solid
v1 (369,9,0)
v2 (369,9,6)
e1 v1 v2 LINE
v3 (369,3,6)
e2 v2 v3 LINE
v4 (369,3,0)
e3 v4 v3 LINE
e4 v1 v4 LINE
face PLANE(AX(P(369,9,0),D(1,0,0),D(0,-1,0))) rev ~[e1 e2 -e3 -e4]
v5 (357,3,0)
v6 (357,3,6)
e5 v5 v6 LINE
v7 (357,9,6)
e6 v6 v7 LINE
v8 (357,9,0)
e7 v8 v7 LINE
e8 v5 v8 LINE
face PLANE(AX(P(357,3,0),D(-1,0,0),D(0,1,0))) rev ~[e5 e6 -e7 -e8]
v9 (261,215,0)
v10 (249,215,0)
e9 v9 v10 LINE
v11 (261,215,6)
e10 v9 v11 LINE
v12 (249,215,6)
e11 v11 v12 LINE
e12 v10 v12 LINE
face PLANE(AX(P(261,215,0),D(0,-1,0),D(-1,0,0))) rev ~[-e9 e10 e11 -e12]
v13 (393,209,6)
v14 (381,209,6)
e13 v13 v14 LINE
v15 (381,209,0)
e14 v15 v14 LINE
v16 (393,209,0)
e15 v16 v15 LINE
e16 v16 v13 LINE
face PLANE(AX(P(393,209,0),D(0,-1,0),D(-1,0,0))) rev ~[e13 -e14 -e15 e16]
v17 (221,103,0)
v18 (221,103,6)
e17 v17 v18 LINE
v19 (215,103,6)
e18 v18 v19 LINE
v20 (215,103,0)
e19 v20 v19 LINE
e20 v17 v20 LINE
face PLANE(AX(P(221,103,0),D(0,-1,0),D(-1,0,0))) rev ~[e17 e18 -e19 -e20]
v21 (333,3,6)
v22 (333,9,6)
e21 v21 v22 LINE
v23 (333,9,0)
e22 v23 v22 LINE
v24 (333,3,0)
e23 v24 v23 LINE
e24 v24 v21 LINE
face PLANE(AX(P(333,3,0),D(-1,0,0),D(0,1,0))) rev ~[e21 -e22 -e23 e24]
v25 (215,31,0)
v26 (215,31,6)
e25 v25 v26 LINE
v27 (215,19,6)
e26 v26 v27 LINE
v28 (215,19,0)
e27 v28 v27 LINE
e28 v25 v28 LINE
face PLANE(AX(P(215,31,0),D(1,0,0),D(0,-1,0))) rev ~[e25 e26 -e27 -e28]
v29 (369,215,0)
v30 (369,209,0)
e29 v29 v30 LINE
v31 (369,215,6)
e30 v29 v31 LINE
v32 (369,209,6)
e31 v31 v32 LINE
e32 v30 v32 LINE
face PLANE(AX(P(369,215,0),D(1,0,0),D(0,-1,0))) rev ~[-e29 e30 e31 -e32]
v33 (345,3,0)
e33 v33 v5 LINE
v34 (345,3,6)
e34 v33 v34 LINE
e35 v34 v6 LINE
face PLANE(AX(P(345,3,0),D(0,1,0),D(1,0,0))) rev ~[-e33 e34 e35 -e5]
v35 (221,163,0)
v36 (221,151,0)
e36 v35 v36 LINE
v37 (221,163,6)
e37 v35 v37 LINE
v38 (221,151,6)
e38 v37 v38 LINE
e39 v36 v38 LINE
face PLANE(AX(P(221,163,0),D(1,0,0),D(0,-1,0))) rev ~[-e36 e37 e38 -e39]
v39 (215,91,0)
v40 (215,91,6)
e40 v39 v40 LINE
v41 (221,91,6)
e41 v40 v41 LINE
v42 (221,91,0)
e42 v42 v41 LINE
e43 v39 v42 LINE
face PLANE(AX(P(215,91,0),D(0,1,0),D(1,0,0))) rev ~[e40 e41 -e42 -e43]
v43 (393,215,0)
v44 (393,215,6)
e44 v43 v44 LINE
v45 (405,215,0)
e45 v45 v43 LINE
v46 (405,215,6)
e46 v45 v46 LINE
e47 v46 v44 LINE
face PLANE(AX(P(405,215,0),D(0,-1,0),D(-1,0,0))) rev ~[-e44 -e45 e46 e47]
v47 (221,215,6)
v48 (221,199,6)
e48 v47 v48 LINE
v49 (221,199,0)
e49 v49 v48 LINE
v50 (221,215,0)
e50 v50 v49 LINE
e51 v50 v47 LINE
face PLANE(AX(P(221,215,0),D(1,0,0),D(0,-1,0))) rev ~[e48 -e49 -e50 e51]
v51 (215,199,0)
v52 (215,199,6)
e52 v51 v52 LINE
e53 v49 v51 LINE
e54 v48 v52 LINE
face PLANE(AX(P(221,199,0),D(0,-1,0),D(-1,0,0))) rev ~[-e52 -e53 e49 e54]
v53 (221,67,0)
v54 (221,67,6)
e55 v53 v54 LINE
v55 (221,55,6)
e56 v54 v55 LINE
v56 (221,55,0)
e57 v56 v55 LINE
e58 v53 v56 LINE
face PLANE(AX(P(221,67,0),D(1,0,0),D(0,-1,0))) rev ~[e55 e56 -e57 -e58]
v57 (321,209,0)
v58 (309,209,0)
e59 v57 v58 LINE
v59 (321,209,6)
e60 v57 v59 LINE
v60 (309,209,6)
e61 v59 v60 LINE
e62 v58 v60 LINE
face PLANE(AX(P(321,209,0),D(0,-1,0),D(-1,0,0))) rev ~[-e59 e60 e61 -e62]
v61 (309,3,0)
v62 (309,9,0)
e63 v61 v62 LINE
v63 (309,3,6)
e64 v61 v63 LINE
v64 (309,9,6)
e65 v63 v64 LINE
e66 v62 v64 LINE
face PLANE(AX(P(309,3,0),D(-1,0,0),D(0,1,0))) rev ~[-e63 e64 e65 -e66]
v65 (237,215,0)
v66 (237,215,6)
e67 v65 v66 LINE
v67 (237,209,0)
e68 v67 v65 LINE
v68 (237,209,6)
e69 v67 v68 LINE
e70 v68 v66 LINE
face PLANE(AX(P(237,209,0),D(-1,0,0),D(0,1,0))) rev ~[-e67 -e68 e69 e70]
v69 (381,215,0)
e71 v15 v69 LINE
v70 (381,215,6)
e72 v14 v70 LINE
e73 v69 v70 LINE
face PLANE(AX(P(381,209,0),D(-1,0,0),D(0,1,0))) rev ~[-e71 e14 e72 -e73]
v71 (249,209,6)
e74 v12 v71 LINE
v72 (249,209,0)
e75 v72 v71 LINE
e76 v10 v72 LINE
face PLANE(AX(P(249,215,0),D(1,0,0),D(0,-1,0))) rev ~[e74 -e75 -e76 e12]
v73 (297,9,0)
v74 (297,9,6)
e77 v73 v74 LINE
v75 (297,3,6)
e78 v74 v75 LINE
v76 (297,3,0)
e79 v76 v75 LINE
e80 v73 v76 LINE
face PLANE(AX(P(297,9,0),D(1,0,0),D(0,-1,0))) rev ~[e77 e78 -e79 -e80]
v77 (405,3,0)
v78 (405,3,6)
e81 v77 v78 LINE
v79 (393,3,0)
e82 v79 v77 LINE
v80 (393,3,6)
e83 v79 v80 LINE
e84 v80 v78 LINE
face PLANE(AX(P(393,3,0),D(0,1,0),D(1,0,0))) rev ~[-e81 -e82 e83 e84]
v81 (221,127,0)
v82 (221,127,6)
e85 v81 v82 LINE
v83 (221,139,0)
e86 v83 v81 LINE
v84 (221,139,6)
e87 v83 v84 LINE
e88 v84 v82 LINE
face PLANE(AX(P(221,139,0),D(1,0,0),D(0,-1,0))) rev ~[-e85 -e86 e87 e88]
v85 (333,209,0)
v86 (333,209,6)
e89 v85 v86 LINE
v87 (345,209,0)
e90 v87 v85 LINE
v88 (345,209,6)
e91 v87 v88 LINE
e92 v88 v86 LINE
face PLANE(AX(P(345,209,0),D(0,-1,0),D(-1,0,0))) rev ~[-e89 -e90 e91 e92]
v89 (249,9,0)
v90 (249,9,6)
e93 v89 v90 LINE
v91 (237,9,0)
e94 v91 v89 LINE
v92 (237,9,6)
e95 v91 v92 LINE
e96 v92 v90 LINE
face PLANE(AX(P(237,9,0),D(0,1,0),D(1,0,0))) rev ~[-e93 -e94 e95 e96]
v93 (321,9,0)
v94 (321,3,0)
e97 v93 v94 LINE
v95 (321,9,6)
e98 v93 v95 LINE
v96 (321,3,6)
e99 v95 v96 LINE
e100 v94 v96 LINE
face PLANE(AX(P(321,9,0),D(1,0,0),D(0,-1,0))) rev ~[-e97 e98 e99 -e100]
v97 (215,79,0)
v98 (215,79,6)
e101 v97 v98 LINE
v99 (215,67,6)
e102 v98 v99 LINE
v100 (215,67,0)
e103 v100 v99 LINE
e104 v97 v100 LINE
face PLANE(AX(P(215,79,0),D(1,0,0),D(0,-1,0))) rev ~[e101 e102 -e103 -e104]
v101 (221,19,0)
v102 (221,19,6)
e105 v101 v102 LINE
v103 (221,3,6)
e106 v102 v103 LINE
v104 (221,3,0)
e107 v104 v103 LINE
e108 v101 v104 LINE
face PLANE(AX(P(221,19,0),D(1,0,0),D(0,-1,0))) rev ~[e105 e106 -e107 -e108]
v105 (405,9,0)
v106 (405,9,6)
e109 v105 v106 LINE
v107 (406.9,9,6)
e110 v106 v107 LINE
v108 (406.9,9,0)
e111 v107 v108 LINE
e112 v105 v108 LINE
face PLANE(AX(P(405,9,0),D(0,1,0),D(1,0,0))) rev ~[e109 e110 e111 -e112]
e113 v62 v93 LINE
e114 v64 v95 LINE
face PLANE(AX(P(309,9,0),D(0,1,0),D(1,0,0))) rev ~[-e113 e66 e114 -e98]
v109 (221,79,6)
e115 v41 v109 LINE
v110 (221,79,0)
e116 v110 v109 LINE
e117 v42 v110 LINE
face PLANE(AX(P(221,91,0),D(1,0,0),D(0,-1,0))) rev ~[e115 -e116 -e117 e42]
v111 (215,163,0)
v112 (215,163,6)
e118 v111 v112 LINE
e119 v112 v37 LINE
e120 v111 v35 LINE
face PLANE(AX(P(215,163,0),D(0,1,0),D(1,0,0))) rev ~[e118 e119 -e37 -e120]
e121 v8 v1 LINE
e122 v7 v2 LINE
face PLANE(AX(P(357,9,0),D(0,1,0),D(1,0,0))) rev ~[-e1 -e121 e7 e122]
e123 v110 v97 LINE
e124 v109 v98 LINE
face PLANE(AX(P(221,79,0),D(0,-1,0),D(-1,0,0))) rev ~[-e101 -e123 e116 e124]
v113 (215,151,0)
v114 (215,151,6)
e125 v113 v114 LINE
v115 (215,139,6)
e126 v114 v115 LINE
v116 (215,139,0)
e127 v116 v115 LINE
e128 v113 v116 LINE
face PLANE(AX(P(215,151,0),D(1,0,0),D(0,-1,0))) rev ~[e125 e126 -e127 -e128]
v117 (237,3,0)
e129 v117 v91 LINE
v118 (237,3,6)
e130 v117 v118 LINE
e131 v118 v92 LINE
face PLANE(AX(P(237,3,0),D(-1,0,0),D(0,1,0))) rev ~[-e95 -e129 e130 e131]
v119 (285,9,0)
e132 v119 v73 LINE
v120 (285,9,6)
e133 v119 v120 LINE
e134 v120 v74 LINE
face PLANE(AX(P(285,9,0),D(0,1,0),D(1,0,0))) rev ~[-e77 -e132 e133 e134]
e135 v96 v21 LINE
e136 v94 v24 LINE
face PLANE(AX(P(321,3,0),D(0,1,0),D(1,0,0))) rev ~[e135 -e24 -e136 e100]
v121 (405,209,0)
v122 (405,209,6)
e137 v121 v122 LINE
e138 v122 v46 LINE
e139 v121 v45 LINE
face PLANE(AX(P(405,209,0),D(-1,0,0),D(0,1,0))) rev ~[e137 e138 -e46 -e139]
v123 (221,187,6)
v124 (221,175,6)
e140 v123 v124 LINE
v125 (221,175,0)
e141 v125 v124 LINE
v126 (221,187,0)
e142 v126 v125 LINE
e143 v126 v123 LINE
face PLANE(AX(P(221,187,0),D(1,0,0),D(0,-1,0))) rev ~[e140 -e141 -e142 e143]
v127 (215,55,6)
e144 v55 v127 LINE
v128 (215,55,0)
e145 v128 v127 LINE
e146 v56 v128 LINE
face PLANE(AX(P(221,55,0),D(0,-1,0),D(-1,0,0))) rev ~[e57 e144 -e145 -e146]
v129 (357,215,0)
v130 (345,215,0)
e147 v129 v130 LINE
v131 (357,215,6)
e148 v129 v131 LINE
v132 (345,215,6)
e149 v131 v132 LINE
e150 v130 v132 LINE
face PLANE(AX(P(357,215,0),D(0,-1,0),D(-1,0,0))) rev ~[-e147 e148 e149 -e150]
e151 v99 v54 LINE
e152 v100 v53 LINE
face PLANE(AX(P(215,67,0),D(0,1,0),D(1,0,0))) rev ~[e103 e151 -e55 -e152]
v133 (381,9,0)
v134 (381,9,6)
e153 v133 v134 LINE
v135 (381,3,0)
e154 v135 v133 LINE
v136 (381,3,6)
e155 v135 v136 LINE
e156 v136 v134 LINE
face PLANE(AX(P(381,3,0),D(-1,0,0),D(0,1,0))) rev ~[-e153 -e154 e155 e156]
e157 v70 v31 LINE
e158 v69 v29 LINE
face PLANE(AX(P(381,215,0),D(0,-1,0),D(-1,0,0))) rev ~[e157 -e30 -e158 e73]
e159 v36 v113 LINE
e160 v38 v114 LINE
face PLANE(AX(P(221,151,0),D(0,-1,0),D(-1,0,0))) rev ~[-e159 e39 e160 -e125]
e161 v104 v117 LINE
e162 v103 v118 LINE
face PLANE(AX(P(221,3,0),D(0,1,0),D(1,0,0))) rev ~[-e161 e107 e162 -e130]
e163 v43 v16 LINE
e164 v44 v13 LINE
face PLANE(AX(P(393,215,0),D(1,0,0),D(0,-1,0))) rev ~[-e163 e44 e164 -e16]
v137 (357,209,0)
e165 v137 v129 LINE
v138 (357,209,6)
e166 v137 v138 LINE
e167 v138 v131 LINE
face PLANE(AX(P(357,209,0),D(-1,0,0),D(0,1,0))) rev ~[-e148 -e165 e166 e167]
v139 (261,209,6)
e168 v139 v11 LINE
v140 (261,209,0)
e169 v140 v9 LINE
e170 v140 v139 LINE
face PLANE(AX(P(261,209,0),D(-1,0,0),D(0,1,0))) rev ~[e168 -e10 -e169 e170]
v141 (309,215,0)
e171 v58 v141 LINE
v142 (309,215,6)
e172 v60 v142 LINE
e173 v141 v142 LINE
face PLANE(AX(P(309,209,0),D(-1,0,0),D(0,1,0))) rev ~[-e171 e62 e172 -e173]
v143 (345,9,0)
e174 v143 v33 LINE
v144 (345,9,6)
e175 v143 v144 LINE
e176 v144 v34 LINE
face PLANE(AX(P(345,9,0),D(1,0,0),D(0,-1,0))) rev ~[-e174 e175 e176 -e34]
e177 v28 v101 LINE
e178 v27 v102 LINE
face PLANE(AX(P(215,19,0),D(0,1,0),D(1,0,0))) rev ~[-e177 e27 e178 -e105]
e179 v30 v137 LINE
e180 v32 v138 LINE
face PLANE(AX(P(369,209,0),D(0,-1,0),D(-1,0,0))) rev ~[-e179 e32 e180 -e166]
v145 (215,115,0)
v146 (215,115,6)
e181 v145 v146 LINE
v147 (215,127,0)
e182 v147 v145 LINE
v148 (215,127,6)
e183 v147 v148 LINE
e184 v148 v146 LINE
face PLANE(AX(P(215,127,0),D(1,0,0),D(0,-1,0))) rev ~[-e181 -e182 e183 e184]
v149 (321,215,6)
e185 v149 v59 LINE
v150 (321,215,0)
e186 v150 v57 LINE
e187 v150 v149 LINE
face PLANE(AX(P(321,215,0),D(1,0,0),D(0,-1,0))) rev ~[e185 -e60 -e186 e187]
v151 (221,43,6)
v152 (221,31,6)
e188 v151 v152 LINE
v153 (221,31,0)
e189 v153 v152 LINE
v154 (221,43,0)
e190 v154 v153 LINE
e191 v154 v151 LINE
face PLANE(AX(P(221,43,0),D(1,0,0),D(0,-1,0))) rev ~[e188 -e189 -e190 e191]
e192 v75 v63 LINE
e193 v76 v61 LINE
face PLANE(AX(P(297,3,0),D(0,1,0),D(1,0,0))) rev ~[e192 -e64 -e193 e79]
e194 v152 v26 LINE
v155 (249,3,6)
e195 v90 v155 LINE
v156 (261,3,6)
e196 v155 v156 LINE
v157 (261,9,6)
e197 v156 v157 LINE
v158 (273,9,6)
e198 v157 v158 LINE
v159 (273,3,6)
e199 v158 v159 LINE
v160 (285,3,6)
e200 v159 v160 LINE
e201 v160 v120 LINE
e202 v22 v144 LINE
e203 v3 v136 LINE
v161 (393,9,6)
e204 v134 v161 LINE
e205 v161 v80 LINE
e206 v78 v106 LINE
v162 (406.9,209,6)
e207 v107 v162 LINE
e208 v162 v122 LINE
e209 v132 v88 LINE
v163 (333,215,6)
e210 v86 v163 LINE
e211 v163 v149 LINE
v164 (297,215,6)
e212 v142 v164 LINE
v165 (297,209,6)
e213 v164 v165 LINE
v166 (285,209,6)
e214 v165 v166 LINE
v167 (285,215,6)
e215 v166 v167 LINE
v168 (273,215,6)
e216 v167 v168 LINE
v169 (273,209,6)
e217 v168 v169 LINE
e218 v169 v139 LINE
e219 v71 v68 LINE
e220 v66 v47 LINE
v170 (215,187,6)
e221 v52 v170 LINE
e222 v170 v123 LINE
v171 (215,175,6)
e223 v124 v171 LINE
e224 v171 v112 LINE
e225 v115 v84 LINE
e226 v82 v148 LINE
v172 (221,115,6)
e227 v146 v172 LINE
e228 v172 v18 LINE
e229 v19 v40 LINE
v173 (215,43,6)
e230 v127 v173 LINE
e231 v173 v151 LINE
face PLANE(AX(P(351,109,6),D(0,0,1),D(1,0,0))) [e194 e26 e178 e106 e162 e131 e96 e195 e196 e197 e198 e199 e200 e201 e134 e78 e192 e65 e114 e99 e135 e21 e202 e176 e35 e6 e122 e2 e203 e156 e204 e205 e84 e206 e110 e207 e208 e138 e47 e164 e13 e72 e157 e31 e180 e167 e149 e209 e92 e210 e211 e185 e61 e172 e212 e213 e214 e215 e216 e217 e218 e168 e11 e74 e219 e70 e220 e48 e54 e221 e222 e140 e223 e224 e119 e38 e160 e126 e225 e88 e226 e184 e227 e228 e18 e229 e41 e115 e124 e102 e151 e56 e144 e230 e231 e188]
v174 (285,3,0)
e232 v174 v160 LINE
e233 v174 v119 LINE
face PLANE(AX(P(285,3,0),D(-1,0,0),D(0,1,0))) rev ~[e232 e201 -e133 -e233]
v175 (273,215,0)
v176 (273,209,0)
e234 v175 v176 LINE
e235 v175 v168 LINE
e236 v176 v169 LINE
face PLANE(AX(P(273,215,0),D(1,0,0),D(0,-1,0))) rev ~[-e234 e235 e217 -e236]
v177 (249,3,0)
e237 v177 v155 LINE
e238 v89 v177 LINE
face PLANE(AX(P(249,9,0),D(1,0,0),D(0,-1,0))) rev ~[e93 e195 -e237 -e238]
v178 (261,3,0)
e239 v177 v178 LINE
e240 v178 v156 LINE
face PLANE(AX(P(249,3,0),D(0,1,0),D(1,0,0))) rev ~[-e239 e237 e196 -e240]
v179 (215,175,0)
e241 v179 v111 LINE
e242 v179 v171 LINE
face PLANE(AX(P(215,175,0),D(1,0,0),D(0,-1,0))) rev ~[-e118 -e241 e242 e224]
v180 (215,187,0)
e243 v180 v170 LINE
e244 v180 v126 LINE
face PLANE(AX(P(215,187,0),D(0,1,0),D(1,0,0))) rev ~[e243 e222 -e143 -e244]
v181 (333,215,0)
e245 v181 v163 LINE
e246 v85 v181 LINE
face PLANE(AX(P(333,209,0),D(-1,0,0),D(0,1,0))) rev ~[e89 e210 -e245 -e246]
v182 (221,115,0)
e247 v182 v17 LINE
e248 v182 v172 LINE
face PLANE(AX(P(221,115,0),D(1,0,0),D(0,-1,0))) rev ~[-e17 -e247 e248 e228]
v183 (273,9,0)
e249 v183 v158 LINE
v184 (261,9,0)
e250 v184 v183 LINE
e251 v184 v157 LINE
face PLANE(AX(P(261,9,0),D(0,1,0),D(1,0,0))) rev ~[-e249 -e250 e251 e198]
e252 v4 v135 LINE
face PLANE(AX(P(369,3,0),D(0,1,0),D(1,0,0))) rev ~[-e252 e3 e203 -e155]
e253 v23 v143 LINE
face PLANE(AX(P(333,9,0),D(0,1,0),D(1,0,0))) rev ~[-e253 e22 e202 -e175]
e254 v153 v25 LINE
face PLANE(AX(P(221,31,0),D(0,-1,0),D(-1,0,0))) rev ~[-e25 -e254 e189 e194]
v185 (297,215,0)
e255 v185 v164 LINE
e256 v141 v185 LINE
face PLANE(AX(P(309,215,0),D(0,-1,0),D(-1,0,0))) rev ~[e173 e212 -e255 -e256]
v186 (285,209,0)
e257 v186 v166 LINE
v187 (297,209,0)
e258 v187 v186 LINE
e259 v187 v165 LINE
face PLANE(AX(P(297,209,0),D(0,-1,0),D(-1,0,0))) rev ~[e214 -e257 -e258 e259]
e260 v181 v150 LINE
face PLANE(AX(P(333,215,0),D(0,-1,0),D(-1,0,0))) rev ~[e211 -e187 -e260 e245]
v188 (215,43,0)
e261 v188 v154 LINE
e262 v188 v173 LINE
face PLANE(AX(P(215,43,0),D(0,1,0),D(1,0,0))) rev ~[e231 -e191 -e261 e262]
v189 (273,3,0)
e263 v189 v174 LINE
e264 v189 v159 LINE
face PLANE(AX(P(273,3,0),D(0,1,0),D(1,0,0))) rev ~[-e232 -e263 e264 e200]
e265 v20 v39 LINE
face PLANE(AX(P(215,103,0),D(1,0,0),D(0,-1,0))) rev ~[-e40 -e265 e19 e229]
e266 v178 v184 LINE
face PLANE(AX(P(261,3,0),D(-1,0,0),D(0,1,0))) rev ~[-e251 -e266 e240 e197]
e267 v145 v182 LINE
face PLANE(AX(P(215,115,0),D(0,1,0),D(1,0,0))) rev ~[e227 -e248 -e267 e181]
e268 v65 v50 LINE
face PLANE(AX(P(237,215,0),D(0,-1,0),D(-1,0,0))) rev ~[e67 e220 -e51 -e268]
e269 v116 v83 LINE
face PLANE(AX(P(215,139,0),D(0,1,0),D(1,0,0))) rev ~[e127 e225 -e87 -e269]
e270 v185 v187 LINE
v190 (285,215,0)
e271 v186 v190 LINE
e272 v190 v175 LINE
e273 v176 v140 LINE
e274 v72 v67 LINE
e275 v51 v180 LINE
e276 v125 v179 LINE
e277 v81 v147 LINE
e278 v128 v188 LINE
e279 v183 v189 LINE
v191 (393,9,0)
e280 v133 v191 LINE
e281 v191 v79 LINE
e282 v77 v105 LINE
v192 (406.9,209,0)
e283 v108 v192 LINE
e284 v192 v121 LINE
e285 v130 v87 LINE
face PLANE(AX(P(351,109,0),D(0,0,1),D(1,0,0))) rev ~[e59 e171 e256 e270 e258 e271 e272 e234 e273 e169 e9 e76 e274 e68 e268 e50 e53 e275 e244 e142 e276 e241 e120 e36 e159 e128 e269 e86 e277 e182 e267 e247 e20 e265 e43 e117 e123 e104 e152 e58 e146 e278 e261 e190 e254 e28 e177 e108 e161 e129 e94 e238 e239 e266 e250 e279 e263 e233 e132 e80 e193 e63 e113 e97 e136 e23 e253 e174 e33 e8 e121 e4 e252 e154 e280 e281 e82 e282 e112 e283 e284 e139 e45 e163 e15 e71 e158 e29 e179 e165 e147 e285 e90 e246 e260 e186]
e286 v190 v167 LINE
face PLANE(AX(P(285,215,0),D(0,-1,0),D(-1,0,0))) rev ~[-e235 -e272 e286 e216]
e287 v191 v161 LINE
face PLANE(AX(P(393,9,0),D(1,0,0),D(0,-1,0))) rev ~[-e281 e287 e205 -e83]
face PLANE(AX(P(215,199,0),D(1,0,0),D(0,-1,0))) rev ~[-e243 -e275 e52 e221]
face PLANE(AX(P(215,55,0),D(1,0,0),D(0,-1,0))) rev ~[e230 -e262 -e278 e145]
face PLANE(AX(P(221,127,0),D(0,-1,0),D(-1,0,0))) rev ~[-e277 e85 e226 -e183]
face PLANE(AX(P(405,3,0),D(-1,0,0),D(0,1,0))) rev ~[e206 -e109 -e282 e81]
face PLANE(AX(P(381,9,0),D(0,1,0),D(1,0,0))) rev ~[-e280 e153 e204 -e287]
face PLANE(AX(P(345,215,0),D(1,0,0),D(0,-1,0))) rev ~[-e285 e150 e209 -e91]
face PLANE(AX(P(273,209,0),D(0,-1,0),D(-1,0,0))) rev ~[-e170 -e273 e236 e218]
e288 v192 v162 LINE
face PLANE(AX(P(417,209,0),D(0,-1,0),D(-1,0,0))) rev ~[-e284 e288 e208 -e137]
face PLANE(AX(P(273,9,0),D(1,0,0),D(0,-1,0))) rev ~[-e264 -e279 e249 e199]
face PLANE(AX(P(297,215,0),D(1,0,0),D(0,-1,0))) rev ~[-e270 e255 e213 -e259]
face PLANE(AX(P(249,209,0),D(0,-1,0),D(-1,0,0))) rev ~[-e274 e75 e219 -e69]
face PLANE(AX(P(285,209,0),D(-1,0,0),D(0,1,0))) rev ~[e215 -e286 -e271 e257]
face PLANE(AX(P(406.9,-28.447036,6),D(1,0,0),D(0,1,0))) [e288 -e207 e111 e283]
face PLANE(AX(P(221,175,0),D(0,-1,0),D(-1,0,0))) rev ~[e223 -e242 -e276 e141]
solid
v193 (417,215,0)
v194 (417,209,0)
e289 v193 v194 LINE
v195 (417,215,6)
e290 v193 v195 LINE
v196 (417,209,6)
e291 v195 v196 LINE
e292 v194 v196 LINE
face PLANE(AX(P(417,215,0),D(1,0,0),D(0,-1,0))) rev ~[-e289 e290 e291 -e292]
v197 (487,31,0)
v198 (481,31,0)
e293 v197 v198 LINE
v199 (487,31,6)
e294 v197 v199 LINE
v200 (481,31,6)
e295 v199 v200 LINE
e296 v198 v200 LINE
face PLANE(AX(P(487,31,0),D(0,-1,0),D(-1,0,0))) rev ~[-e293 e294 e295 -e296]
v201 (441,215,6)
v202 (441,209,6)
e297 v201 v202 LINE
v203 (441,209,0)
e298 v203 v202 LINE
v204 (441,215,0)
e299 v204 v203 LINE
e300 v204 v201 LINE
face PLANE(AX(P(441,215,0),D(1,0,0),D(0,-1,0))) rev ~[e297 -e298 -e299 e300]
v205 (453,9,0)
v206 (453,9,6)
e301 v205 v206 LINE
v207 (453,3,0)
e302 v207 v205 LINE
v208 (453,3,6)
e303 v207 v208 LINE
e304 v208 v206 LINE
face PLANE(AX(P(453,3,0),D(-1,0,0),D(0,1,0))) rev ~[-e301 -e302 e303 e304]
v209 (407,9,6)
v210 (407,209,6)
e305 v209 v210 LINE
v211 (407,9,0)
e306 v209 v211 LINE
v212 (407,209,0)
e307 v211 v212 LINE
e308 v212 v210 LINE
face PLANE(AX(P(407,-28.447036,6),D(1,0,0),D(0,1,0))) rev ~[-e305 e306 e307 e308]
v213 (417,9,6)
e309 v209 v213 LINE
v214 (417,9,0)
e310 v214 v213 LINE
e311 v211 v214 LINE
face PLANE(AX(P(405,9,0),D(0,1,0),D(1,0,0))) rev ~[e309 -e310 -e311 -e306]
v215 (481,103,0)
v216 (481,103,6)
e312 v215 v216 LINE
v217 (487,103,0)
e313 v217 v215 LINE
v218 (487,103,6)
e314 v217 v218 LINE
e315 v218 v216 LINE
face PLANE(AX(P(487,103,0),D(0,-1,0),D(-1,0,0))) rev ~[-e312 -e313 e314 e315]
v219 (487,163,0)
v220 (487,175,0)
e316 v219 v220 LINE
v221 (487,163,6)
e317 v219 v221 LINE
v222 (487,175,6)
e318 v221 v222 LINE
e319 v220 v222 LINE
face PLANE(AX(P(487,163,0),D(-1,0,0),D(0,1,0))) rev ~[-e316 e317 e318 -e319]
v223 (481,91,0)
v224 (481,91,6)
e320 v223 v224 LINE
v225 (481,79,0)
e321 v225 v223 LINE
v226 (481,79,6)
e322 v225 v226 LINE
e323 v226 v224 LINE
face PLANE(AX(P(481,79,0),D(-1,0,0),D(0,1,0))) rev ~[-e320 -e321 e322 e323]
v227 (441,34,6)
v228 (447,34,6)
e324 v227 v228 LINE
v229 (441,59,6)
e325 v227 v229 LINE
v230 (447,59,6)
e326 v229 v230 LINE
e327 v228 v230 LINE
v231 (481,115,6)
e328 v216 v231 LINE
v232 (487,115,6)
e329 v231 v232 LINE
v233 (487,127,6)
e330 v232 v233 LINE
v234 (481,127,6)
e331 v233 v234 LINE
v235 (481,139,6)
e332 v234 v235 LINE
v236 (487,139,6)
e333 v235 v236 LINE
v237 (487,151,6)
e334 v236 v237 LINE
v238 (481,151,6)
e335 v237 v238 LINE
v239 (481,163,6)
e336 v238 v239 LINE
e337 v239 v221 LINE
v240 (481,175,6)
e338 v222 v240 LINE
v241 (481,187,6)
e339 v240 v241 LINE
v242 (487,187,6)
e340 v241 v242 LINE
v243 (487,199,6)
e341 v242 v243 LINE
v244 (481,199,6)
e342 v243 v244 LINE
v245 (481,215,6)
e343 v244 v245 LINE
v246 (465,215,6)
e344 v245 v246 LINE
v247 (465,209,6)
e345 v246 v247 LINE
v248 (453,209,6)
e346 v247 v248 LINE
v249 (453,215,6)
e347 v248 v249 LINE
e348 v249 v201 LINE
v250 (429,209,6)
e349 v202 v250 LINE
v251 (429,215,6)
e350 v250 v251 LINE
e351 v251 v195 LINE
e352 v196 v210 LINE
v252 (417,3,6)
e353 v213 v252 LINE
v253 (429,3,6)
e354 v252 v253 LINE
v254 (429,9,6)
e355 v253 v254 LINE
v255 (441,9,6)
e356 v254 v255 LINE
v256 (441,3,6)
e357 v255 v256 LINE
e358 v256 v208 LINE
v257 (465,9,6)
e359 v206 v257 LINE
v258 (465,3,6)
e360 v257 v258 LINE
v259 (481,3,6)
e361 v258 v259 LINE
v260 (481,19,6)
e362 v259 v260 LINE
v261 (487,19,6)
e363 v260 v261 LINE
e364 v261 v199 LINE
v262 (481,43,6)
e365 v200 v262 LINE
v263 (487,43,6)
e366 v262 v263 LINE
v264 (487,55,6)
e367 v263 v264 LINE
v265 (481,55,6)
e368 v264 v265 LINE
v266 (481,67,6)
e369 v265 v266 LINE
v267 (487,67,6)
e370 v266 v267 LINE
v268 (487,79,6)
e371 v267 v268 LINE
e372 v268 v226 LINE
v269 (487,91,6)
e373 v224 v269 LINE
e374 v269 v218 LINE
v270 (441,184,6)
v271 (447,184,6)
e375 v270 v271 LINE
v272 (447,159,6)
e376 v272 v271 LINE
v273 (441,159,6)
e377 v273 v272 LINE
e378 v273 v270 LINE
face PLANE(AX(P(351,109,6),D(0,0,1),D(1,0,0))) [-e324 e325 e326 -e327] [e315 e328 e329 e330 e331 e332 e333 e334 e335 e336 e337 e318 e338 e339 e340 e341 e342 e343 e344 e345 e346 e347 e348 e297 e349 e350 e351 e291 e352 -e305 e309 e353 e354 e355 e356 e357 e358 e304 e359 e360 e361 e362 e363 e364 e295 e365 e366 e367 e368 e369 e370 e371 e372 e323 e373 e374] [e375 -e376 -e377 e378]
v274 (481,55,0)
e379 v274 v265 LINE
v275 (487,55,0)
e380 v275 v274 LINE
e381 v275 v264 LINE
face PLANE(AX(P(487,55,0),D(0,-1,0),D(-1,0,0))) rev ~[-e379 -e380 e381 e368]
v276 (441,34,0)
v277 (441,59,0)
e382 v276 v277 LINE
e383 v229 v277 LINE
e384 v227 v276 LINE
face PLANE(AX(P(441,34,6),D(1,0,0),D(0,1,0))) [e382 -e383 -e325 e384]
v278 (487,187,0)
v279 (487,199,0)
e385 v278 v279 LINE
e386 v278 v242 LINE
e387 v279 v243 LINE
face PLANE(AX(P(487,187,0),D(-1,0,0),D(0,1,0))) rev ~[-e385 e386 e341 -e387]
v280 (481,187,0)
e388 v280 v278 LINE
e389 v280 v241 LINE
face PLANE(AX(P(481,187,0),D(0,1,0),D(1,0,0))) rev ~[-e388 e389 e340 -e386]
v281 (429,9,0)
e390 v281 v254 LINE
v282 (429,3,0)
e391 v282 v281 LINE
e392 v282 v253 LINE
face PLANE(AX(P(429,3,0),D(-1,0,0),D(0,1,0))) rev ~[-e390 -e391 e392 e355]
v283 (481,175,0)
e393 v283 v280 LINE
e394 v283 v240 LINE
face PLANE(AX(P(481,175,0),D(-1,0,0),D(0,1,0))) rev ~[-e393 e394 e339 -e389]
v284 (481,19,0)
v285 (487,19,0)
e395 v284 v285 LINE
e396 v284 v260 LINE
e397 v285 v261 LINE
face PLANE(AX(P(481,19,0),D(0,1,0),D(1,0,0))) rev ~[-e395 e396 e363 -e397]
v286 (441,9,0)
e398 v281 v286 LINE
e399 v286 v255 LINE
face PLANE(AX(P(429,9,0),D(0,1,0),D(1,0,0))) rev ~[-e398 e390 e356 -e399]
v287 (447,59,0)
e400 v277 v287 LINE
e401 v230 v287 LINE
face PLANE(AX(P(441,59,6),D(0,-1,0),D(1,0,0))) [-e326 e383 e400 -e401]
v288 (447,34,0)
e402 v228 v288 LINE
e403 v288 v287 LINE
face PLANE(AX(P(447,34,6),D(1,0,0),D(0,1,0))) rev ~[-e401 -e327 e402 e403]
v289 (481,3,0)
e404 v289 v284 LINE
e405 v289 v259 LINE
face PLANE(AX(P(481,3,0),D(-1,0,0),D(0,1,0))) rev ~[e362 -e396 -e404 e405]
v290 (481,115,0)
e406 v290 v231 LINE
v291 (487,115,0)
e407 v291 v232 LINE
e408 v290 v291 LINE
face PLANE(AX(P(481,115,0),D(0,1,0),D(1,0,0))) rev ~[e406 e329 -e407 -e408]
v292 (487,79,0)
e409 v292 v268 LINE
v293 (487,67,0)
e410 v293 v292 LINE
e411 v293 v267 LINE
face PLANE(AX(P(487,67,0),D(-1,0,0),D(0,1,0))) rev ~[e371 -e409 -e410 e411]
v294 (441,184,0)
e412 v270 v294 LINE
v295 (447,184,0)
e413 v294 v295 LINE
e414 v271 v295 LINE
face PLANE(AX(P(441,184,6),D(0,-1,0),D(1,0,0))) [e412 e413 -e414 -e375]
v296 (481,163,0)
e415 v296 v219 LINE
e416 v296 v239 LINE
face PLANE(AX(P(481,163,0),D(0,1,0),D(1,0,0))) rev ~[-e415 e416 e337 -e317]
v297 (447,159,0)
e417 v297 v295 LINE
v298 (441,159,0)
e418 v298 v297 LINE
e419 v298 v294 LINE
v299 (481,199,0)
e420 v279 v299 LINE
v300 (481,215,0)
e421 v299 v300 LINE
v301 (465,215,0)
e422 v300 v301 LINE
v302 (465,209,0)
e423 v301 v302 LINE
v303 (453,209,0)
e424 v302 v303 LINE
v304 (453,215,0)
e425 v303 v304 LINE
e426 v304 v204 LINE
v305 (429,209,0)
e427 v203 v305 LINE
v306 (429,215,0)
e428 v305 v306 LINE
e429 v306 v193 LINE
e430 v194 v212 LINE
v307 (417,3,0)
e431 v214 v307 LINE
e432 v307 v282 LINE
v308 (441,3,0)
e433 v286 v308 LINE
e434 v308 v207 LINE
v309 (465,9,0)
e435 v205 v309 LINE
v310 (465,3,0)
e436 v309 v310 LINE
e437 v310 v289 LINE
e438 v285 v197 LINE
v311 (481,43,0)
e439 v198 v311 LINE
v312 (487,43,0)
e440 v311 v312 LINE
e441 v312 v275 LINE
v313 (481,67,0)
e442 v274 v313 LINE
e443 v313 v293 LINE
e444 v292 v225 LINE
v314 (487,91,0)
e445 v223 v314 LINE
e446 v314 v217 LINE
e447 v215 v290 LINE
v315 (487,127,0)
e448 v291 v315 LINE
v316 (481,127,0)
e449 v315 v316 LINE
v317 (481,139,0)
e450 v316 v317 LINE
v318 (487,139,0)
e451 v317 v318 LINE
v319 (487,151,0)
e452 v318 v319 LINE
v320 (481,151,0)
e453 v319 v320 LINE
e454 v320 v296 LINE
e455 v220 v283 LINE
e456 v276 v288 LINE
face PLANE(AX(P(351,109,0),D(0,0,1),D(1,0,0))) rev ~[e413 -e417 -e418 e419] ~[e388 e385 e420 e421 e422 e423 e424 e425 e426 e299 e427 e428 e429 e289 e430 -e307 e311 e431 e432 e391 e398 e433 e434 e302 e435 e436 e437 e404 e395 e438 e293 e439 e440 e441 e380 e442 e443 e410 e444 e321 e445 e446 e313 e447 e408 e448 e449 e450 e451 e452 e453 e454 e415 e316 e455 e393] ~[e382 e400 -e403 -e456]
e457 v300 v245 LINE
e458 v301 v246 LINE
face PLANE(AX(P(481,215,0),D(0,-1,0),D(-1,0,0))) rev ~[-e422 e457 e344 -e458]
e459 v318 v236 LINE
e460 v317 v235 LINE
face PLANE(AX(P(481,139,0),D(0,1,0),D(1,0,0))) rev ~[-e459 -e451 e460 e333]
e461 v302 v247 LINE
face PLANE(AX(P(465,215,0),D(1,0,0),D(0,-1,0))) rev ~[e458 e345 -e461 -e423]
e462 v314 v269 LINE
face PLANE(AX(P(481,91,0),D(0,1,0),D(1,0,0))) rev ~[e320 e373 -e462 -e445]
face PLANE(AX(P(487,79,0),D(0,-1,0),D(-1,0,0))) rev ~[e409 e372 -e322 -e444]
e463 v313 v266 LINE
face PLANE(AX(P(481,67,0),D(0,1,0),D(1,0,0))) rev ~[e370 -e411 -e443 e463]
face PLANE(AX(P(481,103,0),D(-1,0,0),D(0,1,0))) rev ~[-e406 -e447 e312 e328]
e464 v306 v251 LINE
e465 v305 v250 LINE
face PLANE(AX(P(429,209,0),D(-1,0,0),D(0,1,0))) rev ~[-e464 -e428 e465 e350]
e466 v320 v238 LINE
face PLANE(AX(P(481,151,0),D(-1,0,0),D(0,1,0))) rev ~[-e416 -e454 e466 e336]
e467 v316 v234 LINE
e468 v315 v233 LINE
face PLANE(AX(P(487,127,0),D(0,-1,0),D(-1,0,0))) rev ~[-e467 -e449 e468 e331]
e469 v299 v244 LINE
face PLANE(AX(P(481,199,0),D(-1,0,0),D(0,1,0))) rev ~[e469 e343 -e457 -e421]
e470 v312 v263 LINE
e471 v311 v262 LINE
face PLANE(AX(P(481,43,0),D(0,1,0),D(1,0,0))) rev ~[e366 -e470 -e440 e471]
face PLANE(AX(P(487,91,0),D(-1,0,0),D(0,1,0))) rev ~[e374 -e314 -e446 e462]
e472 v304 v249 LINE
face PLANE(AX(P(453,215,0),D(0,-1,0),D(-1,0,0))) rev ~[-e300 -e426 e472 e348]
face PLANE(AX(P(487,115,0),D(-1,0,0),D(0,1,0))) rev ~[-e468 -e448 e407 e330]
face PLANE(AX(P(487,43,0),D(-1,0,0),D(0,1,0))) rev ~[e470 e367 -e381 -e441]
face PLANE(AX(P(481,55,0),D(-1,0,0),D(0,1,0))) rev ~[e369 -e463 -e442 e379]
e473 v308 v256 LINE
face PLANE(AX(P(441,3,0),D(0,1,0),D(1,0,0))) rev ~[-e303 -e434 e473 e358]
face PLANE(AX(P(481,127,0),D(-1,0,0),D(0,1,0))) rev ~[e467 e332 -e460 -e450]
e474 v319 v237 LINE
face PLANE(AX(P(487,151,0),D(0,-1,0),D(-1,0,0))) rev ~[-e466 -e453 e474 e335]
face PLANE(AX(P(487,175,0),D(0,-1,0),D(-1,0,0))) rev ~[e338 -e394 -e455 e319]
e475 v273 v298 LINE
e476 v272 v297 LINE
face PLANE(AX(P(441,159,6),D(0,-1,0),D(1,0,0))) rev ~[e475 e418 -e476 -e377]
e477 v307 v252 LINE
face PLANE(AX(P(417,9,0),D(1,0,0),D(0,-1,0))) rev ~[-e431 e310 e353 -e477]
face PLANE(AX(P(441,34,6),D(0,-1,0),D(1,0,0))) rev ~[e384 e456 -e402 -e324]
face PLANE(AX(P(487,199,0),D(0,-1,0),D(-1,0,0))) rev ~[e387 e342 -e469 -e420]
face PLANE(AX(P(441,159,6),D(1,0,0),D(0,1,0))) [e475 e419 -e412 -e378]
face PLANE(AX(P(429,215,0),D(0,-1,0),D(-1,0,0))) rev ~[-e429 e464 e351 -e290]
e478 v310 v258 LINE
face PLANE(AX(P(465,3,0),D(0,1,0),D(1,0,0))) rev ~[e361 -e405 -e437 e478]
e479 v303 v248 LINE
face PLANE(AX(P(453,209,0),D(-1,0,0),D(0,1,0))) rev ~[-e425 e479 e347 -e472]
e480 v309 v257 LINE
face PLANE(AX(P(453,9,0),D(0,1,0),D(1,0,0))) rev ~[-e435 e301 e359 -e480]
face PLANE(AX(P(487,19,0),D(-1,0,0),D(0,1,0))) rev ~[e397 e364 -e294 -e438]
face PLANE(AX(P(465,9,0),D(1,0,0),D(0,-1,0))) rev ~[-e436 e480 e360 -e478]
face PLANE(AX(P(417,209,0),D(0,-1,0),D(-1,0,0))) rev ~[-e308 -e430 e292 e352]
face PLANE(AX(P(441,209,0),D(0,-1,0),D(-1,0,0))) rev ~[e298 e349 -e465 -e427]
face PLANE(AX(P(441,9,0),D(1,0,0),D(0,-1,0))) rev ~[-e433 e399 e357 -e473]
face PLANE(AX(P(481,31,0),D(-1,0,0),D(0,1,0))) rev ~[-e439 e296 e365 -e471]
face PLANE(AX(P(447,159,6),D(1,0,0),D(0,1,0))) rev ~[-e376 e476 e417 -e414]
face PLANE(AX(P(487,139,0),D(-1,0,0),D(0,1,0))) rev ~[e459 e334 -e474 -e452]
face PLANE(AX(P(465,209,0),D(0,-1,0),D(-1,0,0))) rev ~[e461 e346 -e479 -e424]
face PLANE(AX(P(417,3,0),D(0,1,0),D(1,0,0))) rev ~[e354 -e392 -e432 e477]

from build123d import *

# Parameters (mm, degrees)
BOSS_EXTRUDE1_DEPTH = 6
SKETCH2_W           = 0.1
SKETCH2_H           = 265.514483505
SKETCH2_W_2         = 6
SKETCH2_H_2         = 25
CUT_EXTRUDE1_DEPTH  = 6


with BuildPart() as part:
    # Model → Boss-Extrude1 (new body)
    with BuildSketch(Plane.XY):
        Polygon((221, 215), (221, 199), (215, 199), (215, 187), (221, 187), (221, 175), (215, 175), (215, 163), (221, 163), (221, 151), (215, 151), (215, 139), (221, 139), (221, 127), (215, 127), (215, 115), (221, 115), (221, 103), (215, 103), (215, 91), (221, 91), (221, 79), (215, 79), (215, 67), (221, 67), (221, 55), (215, 55), (215, 43), (221, 43), (221, 31), (215, 31), (215, 19), (221, 19), (221, 3), (237, 3), (237, 9), (249, 9), (249, 3), (261, 3), (261, 9), (273, 9), (273, 3), (285, 3), (285, 9), (297, 9), (297, 3), (309, 3), (309, 9), (321, 9), (321, 3), (333, 3), (333, 9), (345, 9), (345, 3), (357, 3), (357, 9), (369, 9), (369, 3), (381, 3), (381, 9), (393, 9), (393, 3), (405, 3), (405, 9), (417, 9), (417, 3), (429, 3), (429, 9), (441, 9), (441, 3), (453, 3), (453, 9), (465, 9), (465, 3), (477, 3), (481, 3), (481, 19), (487, 19), (487, 31), (481, 31), (481, 43), (487, 43), (487, 55), (481, 55), (481, 67), (487, 67), (487, 79), (481, 79), (481, 91), (487, 91), (487, 103), (481, 103), (481, 115), (487, 115), (487, 127), (481, 127), (481, 139), (487, 139), (487, 151), (481, 151), (481, 163), (487, 163), (487, 175), (481, 175), (481, 187), (487, 187), (487, 199), (481, 199), (481, 215), (465, 215), (465, 209), (453, 209), (453, 215), (441, 215), (441, 209), (429, 209), (429, 215), (417, 215), (417, 209), (405, 209), (405, 215), (393, 215), (393, 209), (381, 209), (381, 215), (369, 215), (369, 209), (357, 209), (357, 215), (345, 215), (345, 209), (333, 209), (333, 215), (321, 215), (321, 209), (309, 209), (309, 215), (297, 215), (297, 209), (285, 209), (285, 215), (273, 215), (273, 209), (261, 209), (261, 215), (249, 215), (249, 209), (237, 209), (237, 215), (225, 215), align=None)
    extrude(amount=BOSS_EXTRUDE1_DEPTH)

    # Sketch2 → Cut-Extrude1 (cut)
    with BuildSketch(Plane.XY.offset(6)):
        with Locations((406.95, 104.310206134)):
            Rectangle(SKETCH2_W, SKETCH2_H)
        with Locations((444, 171.5)):
            Rectangle(SKETCH2_W_2, SKETCH2_H_2)
        with Locations((444, 46.5)):
            Rectangle(SKETCH2_W_2, SKETCH2_H_2)
    extrude(amount=-CUT_EXTRUDE1_DEPTH, mode=Mode.SUBTRACT)


with BuildPart() as cut_extrude1_piece_1:
    # of the separate pieces the step leaves, piece 1, a body of its own (cut_extrude1_pieces)
    add(part.part.solids().sort_by_distance((221, 215, 0))[0])


with BuildPart() as cut_extrude1_piece_2:
    # of the separate pieces the step leaves, piece 2, a body of its own (cut_extrude1_pieces)
    add(part.part.solids().sort_by_distance((417, 209, 0))[0])


solid = Compound([cut_extrude1_piece_1.part, cut_extrude1_piece_2.part])
